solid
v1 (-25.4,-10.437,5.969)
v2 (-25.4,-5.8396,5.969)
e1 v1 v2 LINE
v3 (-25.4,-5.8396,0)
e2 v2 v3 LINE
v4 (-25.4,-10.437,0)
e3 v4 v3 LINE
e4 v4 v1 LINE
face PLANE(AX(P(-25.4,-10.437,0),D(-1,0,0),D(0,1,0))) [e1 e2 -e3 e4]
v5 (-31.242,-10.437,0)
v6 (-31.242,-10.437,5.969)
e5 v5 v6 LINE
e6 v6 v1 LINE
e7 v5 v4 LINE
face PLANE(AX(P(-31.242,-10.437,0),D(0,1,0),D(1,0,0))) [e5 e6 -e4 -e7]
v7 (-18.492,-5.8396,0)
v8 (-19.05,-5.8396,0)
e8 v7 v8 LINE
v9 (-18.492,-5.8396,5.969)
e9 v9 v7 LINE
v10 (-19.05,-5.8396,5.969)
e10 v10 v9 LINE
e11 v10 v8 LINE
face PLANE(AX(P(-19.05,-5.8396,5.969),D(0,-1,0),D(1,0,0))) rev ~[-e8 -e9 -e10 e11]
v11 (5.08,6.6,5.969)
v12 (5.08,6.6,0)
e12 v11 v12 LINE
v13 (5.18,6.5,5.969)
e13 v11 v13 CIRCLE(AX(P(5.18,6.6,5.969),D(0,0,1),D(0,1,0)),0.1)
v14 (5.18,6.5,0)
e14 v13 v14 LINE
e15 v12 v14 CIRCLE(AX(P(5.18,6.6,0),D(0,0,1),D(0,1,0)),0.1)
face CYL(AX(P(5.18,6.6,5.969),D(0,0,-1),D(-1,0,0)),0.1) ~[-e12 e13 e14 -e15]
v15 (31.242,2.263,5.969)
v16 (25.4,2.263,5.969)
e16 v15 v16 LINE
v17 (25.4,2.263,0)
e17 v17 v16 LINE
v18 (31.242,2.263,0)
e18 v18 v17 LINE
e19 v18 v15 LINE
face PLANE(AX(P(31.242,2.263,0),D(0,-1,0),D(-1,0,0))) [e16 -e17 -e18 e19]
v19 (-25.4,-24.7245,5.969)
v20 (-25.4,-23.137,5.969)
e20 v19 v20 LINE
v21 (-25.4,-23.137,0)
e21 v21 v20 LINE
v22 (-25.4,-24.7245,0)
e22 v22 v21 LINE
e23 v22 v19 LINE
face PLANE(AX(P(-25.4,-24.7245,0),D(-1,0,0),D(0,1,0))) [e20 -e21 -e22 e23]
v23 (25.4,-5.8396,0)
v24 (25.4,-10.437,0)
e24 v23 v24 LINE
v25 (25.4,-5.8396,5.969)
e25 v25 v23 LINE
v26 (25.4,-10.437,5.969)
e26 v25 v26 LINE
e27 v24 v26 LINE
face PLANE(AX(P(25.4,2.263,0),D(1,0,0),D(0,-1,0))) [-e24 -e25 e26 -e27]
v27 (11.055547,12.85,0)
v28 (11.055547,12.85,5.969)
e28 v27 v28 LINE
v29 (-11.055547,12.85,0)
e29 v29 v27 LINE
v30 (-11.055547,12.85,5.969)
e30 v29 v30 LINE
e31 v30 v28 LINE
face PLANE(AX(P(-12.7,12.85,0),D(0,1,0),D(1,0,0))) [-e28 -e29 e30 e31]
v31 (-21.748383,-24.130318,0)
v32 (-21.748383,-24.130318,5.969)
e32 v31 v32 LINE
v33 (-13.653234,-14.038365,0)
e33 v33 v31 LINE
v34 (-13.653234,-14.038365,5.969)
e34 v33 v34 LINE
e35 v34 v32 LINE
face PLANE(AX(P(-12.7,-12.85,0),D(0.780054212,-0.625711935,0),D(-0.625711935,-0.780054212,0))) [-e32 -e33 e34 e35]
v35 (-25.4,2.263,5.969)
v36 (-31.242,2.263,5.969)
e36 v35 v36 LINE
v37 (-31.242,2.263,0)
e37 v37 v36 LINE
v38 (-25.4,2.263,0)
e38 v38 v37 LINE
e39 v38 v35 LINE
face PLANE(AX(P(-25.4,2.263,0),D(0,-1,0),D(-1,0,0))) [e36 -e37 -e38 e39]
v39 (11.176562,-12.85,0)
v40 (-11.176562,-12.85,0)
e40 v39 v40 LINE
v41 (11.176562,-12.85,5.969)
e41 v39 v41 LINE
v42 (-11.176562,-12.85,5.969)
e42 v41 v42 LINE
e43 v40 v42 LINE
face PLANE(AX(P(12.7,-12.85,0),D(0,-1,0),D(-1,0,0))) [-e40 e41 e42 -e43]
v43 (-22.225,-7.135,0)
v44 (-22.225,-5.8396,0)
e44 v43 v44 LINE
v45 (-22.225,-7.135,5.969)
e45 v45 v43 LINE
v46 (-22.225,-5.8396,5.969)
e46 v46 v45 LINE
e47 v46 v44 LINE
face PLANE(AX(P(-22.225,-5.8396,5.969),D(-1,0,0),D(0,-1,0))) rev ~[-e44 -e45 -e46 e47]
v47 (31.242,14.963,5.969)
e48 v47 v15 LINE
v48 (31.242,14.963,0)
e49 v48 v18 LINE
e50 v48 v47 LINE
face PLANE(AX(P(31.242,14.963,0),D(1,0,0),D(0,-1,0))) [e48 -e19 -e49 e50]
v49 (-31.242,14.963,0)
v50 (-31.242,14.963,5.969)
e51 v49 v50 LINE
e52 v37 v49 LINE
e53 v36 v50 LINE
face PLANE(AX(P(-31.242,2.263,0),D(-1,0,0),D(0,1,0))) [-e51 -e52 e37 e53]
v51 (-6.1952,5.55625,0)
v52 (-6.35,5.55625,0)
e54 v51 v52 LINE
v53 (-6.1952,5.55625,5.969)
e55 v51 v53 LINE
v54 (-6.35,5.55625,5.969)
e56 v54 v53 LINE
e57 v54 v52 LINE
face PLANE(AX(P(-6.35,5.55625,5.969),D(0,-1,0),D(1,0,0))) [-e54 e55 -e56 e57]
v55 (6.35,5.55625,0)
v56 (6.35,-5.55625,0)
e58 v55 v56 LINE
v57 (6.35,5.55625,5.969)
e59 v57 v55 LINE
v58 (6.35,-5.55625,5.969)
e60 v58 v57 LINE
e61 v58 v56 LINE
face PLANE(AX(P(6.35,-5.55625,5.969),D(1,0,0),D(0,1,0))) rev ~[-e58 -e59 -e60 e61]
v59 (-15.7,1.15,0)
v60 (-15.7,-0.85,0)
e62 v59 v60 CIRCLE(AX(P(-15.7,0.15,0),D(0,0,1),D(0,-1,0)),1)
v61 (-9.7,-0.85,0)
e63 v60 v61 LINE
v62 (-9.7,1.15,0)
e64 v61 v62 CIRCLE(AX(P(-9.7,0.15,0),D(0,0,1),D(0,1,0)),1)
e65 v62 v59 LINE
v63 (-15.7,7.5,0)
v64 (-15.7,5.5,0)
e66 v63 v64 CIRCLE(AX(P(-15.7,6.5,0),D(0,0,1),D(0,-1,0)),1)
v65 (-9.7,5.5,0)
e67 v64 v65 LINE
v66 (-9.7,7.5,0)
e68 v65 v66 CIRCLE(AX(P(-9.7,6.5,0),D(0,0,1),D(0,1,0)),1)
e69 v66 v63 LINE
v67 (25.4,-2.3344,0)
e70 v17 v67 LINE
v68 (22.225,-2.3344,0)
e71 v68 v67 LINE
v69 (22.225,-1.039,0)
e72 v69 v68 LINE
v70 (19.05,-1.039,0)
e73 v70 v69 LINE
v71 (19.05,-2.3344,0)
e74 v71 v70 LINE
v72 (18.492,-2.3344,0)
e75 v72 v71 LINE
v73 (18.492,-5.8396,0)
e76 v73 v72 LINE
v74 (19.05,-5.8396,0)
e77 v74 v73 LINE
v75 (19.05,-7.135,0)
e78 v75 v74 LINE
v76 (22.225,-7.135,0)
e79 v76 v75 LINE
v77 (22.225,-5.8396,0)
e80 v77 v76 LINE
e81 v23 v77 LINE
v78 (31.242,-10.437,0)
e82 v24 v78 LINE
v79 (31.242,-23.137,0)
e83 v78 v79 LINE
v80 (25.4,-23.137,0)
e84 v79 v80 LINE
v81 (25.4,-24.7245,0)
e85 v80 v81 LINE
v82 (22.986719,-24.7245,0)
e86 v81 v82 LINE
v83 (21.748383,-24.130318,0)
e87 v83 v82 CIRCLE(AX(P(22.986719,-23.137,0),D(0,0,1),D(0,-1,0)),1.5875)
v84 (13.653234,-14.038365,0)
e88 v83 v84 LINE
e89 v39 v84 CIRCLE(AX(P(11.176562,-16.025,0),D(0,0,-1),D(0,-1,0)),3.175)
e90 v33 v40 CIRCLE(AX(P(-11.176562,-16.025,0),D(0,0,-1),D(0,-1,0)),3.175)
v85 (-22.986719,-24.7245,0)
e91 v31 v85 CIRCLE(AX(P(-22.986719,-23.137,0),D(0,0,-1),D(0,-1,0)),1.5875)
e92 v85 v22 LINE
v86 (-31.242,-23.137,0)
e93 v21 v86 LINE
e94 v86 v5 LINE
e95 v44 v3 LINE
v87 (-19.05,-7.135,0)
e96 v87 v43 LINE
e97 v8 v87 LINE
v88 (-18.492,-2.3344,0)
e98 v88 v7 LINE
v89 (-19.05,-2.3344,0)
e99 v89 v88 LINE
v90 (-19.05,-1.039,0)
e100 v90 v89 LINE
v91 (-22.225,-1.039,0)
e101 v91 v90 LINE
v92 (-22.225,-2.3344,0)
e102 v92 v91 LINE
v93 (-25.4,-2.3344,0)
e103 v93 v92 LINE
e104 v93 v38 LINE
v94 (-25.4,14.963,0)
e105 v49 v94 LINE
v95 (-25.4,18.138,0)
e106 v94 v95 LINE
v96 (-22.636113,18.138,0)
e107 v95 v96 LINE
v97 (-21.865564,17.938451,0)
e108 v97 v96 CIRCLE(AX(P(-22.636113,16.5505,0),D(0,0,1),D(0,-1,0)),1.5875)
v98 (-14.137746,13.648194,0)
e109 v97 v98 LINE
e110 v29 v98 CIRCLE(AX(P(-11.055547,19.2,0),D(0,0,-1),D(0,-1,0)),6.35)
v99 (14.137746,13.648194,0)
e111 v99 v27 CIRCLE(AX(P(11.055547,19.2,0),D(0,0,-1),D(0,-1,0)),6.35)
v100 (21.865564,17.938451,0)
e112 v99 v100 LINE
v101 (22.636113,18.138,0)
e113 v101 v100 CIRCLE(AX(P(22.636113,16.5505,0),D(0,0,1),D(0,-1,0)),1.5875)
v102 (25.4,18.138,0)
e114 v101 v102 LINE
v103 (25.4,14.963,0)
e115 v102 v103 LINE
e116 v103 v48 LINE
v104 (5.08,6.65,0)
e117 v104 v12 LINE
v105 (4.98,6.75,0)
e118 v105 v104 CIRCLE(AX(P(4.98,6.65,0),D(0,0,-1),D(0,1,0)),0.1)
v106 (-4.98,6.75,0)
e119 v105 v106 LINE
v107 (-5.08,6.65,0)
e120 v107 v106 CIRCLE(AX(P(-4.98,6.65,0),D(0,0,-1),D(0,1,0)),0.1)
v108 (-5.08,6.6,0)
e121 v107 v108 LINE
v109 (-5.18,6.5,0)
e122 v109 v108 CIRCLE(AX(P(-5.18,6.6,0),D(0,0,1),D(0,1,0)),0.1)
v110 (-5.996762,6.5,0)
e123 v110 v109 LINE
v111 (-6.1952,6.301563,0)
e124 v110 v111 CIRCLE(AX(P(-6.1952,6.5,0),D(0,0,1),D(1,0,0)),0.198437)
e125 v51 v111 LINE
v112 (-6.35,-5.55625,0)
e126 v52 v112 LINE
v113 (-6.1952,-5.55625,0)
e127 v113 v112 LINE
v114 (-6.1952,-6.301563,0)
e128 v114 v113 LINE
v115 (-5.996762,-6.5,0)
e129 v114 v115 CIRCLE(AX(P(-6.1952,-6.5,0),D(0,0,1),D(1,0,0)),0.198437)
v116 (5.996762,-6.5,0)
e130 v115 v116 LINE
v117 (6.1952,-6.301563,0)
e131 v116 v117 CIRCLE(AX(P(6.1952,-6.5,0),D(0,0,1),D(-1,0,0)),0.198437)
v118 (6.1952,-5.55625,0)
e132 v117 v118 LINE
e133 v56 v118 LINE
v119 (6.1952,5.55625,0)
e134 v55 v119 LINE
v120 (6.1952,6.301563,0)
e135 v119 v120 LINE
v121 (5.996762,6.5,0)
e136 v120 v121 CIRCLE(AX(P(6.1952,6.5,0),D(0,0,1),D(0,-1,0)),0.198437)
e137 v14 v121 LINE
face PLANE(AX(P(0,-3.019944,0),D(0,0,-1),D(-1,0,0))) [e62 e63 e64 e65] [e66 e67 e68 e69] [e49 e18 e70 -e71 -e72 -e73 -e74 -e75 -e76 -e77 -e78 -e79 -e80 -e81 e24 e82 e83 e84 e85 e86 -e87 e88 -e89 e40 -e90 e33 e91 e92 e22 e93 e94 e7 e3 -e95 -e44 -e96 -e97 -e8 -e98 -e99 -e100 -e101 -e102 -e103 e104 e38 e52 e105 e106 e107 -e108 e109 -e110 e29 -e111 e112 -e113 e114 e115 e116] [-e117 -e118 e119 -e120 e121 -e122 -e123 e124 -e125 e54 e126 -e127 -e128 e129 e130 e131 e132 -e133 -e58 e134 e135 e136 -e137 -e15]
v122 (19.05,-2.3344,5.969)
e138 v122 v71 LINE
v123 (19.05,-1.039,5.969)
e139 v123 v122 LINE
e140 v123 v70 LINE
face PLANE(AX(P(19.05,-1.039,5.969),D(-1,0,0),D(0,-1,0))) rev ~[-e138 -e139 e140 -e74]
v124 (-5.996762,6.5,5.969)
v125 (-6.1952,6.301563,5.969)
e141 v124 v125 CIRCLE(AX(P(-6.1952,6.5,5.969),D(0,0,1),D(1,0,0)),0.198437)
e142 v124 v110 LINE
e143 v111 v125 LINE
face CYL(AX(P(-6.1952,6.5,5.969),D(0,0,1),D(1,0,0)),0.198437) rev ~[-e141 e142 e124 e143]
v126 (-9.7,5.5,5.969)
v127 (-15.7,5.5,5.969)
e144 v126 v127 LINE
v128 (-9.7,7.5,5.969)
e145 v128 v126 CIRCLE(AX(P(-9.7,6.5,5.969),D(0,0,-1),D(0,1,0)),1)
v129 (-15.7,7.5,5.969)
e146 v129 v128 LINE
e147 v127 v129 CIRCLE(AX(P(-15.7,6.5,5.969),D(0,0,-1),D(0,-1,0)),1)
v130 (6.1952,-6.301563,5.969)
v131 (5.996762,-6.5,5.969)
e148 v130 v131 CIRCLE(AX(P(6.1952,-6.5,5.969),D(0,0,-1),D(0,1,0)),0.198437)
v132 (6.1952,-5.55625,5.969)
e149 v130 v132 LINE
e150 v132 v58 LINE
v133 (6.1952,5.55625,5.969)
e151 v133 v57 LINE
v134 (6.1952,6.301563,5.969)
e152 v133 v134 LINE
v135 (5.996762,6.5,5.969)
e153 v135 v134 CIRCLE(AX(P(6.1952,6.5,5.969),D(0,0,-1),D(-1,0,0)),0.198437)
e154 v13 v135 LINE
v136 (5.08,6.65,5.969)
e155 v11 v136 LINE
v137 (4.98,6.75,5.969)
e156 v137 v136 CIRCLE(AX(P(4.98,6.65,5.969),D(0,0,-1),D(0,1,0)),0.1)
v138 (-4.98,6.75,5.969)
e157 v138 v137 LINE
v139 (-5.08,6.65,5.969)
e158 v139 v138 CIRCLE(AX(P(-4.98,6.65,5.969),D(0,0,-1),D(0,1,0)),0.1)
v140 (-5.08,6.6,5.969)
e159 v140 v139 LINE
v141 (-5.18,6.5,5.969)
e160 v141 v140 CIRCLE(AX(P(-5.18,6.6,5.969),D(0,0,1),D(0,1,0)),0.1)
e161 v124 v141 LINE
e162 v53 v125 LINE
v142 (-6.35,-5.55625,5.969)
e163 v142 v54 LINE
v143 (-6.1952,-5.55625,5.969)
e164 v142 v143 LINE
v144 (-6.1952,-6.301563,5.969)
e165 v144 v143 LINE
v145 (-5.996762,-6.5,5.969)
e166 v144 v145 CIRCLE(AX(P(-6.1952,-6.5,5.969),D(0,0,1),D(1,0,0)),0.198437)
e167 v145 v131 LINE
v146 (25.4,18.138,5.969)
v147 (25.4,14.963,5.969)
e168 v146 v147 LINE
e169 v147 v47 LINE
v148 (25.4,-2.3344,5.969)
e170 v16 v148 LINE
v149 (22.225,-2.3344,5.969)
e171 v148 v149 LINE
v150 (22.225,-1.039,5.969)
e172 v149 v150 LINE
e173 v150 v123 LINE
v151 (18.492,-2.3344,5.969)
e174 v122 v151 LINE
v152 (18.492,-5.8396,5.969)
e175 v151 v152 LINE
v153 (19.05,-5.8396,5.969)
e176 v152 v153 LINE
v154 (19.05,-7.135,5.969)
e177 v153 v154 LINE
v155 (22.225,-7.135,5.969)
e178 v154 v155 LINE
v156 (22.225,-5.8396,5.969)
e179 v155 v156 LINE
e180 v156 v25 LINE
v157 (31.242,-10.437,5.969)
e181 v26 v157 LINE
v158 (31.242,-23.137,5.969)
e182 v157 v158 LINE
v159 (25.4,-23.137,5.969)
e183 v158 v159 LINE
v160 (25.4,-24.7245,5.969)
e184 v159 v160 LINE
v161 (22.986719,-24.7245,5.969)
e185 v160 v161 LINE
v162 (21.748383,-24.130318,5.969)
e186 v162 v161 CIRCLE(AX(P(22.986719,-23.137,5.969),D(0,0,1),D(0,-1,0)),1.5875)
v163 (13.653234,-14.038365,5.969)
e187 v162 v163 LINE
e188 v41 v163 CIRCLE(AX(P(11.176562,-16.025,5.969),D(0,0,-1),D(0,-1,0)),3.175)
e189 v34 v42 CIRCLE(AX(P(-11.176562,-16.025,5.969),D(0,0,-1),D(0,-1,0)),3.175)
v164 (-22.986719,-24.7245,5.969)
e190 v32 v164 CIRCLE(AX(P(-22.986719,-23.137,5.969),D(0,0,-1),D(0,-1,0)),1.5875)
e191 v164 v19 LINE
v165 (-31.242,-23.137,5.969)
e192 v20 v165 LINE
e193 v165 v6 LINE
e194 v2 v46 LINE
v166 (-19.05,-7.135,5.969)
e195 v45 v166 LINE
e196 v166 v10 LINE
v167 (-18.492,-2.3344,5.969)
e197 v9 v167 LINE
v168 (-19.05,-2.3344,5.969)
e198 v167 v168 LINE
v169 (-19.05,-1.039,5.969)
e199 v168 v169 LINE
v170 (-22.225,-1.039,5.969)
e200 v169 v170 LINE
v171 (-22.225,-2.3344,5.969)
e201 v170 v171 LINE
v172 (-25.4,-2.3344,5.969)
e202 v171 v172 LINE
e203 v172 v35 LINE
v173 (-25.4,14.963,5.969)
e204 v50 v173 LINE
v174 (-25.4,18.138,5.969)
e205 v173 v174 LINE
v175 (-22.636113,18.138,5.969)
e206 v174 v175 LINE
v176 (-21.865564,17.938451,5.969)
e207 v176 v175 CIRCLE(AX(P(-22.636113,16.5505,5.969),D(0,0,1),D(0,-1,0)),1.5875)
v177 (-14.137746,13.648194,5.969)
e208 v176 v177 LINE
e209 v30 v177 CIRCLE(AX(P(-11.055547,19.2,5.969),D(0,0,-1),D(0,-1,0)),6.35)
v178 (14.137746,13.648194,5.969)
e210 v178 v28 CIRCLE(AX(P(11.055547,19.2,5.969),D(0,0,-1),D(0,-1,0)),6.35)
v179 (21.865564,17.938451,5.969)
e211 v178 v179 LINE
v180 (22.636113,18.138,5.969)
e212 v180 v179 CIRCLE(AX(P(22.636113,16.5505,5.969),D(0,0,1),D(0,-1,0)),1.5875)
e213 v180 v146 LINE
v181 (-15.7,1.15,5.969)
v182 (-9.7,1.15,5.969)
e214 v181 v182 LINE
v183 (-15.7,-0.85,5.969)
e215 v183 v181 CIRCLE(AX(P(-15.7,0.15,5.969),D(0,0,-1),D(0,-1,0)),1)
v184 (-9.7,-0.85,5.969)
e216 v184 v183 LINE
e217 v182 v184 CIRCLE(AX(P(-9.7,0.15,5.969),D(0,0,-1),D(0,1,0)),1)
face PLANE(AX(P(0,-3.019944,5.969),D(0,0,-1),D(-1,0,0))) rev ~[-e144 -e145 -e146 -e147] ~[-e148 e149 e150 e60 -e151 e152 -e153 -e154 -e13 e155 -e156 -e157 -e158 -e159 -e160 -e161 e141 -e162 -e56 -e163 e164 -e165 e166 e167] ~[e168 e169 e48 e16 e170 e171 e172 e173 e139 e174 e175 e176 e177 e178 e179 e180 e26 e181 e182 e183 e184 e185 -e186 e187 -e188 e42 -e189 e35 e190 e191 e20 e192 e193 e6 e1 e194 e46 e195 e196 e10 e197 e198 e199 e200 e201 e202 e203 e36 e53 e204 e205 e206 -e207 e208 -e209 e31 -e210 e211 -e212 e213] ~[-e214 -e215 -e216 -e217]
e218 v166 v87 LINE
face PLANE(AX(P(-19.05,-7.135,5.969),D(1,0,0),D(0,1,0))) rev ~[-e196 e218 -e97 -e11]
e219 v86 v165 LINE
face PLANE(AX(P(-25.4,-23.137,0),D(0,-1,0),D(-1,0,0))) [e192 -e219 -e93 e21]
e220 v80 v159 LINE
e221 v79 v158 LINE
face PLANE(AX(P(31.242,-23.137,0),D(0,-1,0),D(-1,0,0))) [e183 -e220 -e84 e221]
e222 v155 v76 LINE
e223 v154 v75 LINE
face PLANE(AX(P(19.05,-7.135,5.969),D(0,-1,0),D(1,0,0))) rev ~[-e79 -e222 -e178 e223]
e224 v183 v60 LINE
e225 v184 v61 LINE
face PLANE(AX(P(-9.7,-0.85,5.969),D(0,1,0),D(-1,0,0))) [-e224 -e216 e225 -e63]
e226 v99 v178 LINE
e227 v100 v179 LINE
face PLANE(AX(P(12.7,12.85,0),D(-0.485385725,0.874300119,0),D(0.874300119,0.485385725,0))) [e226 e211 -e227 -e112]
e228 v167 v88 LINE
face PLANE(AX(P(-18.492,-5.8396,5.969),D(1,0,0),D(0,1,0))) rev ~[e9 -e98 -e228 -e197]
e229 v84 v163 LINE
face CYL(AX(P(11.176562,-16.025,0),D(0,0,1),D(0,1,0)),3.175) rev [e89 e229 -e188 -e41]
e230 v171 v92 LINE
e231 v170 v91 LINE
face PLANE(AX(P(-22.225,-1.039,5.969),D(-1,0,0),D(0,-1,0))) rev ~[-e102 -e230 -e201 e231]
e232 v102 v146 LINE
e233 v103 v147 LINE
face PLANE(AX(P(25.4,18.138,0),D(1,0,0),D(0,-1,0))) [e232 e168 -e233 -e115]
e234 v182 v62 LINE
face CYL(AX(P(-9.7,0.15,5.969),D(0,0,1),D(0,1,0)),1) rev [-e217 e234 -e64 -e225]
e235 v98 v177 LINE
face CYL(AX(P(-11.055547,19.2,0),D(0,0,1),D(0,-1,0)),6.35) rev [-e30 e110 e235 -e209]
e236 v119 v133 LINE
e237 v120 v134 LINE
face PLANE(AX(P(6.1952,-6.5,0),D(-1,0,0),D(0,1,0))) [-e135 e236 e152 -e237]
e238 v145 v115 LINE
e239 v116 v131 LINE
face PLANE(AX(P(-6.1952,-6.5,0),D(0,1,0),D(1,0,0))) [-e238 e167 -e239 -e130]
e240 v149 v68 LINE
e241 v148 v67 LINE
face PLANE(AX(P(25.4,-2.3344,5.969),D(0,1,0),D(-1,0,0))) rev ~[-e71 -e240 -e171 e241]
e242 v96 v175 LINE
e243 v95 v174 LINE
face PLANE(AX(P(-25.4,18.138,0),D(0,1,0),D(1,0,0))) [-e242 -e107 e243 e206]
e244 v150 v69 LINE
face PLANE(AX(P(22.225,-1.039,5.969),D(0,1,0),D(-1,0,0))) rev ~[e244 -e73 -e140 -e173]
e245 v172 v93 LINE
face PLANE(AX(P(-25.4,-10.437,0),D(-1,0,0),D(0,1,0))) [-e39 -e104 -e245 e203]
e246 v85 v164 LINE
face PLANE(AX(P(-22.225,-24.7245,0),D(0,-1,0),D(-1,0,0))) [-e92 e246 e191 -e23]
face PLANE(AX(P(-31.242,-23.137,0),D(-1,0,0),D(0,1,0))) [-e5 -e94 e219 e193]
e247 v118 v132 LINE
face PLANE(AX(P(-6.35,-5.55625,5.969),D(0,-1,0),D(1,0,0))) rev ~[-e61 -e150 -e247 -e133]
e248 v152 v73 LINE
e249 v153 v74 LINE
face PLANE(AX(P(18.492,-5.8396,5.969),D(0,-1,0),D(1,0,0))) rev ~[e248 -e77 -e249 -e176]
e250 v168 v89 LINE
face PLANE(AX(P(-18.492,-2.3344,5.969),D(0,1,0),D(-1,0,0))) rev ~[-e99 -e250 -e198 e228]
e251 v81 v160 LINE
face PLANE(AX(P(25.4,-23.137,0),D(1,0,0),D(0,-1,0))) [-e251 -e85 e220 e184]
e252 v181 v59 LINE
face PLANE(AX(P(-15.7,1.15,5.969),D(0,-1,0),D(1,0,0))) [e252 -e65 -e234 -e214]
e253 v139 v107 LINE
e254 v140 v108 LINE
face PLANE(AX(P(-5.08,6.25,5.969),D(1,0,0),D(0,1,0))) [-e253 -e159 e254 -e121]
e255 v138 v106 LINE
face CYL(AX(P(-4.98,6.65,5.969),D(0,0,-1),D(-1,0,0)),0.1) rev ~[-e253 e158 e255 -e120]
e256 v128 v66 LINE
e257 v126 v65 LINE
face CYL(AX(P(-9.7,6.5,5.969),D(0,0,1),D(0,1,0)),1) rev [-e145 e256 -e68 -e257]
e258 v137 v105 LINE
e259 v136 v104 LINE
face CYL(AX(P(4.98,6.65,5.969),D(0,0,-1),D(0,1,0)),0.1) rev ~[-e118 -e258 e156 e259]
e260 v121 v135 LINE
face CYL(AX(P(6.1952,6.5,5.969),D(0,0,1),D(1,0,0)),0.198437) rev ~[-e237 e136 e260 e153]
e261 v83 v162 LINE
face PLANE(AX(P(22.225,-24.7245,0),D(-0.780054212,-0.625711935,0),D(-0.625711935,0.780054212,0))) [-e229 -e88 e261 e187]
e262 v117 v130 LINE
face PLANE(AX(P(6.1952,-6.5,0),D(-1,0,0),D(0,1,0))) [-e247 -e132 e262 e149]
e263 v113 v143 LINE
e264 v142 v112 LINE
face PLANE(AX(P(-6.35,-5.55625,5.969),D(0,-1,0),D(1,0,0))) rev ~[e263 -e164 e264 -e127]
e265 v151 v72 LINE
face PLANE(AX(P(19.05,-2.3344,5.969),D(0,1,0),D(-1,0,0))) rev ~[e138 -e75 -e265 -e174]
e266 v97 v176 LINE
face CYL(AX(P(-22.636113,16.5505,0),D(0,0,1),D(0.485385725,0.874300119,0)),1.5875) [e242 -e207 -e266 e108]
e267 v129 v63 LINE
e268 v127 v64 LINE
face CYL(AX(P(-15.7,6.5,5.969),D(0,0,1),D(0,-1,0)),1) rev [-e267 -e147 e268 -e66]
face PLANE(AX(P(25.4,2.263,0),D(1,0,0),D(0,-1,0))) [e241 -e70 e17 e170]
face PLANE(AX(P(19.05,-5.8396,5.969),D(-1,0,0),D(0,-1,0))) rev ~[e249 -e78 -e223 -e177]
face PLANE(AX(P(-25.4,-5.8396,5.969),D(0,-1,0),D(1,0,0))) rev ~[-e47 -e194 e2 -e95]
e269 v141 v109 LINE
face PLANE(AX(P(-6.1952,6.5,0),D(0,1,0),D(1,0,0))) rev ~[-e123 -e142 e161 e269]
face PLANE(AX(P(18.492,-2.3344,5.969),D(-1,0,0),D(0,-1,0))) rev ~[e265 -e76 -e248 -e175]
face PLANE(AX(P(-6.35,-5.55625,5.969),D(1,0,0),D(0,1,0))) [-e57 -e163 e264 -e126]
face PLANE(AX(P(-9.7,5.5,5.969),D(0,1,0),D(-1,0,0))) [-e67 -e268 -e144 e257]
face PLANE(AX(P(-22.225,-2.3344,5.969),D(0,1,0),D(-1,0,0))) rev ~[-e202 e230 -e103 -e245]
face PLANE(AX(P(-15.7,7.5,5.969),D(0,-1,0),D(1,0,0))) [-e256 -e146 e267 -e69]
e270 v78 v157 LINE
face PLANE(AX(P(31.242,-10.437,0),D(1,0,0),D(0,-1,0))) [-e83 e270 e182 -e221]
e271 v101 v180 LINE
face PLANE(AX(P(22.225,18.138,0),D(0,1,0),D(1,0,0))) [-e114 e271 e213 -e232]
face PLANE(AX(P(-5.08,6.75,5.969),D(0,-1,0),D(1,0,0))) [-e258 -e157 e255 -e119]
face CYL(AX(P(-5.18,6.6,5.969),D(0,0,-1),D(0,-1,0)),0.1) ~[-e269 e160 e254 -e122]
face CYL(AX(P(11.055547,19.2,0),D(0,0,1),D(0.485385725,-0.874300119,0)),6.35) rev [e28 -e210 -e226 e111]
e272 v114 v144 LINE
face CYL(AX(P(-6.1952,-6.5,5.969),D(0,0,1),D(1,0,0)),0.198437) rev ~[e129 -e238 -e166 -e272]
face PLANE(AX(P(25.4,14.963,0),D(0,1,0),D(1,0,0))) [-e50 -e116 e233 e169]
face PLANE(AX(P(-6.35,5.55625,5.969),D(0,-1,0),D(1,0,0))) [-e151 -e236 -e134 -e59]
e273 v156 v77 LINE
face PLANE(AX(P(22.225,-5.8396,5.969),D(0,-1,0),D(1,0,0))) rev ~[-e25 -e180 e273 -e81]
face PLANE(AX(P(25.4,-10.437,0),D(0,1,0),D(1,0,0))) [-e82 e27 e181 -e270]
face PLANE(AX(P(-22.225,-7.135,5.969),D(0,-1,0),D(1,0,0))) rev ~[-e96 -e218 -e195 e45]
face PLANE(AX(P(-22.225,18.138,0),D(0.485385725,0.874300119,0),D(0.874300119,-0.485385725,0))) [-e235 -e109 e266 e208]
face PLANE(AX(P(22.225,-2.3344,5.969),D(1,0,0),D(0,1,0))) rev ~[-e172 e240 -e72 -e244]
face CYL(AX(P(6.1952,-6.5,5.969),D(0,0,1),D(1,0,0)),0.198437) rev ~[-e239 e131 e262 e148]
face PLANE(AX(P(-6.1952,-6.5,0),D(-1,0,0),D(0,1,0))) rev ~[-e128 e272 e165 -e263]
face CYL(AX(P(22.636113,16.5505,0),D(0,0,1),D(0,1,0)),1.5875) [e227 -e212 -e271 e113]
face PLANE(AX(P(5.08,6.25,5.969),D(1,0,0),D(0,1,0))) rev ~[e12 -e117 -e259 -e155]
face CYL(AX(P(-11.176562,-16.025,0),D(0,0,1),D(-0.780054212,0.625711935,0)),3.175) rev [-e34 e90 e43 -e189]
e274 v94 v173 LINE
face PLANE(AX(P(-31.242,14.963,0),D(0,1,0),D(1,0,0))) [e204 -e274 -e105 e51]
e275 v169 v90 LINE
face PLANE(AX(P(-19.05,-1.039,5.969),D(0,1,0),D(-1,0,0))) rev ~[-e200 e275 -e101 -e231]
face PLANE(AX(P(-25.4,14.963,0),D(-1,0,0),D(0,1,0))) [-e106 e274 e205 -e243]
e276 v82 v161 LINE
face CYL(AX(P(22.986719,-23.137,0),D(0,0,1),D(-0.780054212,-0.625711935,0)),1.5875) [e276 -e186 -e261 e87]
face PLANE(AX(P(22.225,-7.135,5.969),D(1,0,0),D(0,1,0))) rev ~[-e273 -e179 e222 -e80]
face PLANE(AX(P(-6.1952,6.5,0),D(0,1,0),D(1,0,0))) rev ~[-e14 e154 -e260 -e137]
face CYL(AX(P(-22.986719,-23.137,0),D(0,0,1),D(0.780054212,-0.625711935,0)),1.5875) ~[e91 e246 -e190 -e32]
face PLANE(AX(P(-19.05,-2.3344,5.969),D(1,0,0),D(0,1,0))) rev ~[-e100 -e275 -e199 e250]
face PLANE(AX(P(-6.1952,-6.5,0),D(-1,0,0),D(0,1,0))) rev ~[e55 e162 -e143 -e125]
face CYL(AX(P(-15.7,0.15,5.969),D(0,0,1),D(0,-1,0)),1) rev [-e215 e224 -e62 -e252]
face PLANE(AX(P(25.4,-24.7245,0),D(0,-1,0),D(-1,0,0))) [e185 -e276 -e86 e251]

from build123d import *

# Parameters (mm, degrees)
SKETCH1_W           = 12.3904
SKETCH1_H           = 13
BOSS_EXTRUDE1_DEPTH = 5.969
CUT_EXTRUDE1_DEPTH  = 41.286380146
SKETCH3_R           = 0.1984375
CUT_EXTRUDE2_DEPTH  = 41.286380146
FILLET1_R           = 3.175
FILLET2_R           = 1.5875
SKETCH4_W           = 12.7
SKETCH4_H           = 11.1125
CUT_EXTRUDE3_DEPTH  = 41.286380146
SKETCH5_W           = 10.16
SKETCH5_H           = 0.5
CUT_EXTRUDE4_DEPTH  = 41.286380146
FILLET8_R           = 0.1
CUT_EXTRUDE5_DEPTH  = 41.286380146
FILLET9_R           = 6.35


with BuildPart() as part:
    # Sketch1 → Boss-Extrude1 (new body)
    with BuildSketch(Plane.XY):
        Polygon((25.4, 2.263), (25.4, -10.437), (31.242, -10.437), (31.242, -23.137), (25.4, -23.137), (25.4, -24.7245), (22.225, -24.7245), (12.7, -12.85), (-12.7, -12.85), (-22.225, -24.7245), (-25.4, -24.7245), (-25.4, -23.137), (-31.242, -23.137), (-31.242, -10.437), (-25.4, -10.437), (-25.4, 2.263), (-31.242, 2.263), (-31.242, 14.963), (-25.4, 14.963), (-25.4, 18.138), (-22.225, 18.138), (-12.7, 12.85), (12.7, 12.85), (22.225, 18.138), (25.4, 18.138), (25.4, 14.963), (31.242, 14.963), (31.242, 2.263), align=None)
        Rectangle(SKETCH1_W, SKETCH1_H, mode=Mode.SUBTRACT)
    extrude(amount=BOSS_EXTRUDE1_DEPTH)

    # Sketch2 → Cut-Extrude1 (cut, through all)
    with BuildSketch(Plane.XY.offset(5.969)):
        Polygon((22.225, -2.3344), (22.225, -1.039), (19.05, -1.039), (19.05, -2.3344), (18.492, -2.3344), (18.492, -5.8396), (19.05, -5.8396), (19.05, -7.135), (22.225, -7.135), (22.225, -5.8396), (25.4, -5.8396), (25.4, -2.3344), align=None)
        Polygon((-19.05, -2.3344), (-19.05, -1.039), (-22.225, -1.039), (-22.225, -2.3344), (-25.4, -2.3344), (-25.4, -5.8396), (-22.225, -5.8396), (-22.225, -7.135), (-19.05, -7.135), (-19.05, -5.8396), (-18.492, -5.8396), (-18.492, -2.3344), align=None)
    extrude(amount=-CUT_EXTRUDE1_DEPTH, mode=Mode.SUBTRACT)

    # Sketch3 → Cut-Extrude2 (cut, through all)
    with BuildSketch(Plane.XY.offset(5.969)):
        with Locations((6.1952, 6.5)):
            Circle(SKETCH3_R)
        with Locations((-6.1952, 6.5)):
            Circle(SKETCH3_R)
        with Locations((-6.1952, -6.5)):
            Circle(SKETCH3_R)
        with Locations((6.1952, -6.5)):
            Circle(SKETCH3_R)
    extrude(amount=-CUT_EXTRUDE2_DEPTH, mode=Mode.SUBTRACT)

    # Fillet1
    fillet1_edges = [part.edges().sort_by_distance(p)[0] for p in [
        (12.7, -12.85, 2.9845),
        (-12.7, -12.85, 2.9845),
    ]]
    fillet(fillet1_edges, radius=FILLET1_R)

    # Fillet2
    fillet2_edges = [part.edges().sort_by_distance(p)[0] for p in [
        (22.225, -24.7245, 2.9845),
        (-22.225, -24.7245, 2.9845),
        (-22.225, 18.138, 2.9845),
        (22.225, 18.138, 2.9845),
    ]]
    fillet(fillet2_edges, radius=FILLET2_R)

    # Sketch4 → Cut-Extrude3 (cut, through all)
    with BuildSketch(Plane.XY.offset(5.969)):
        Rectangle(SKETCH4_W, SKETCH4_H)
    extrude(amount=-CUT_EXTRUDE3_DEPTH, mode=Mode.SUBTRACT)

    # Sketch5 → Cut-Extrude4 (cut, through all)
    with BuildSketch(Plane.XY.offset(5.969)):
        with Locations((0, 6.5)):
            Rectangle(SKETCH5_W, SKETCH5_H)
    extrude(amount=-CUT_EXTRUDE4_DEPTH, mode=Mode.SUBTRACT)

    # Fillet8
    fillet8_edges = [part.edges().sort_by_distance(p)[0] for p in [
        (5.08, 6.5, 2.9845),
        (-5.08, 6.5, 2.9845),
        (-5.08, 6.75, 2.9845),
        (5.08, 6.75, 2.9845),
    ]]
    fillet(fillet8_edges, radius=FILLET8_R)

    # Sketch6 → Cut-Extrude5 (cut, through all)
    with BuildSketch(Plane.XY.offset(5.969)):
        with BuildLine():
            Line((-15.7, 7.5), (-9.7, 7.5))
            ThreePointArc((-9.7, 7.5), (-8.7, 6.5), (-9.7, 5.5))
            Line((-9.7, 5.5), (-15.7, 5.5))
            ThreePointArc((-15.7, 5.5), (-16.7, 6.5), (-15.7, 7.5))
        make_face()
        with BuildLine():
            Line((-15.7, 1.15), (-9.7, 1.15))
            ThreePointArc((-9.7, 1.15), (-8.7, 0.15), (-9.7, -0.85))
            Line((-9.7, -0.85), (-15.7, -0.85))
            ThreePointArc((-15.7, -0.85), (-16.7, 0.15), (-15.7, 1.15))
        make_face()
    extrude(amount=-CUT_EXTRUDE5_DEPTH, mode=Mode.SUBTRACT)

    # Fillet9
    fillet9_edges = [part.edges().sort_by_distance(p)[0] for p in [
        (-12.7, 12.85, 2.9845),
        (12.7, 12.85, 2.9845),
    ]]
    fillet(fillet9_edges, radius=FILLET9_R)


solid = part.part
